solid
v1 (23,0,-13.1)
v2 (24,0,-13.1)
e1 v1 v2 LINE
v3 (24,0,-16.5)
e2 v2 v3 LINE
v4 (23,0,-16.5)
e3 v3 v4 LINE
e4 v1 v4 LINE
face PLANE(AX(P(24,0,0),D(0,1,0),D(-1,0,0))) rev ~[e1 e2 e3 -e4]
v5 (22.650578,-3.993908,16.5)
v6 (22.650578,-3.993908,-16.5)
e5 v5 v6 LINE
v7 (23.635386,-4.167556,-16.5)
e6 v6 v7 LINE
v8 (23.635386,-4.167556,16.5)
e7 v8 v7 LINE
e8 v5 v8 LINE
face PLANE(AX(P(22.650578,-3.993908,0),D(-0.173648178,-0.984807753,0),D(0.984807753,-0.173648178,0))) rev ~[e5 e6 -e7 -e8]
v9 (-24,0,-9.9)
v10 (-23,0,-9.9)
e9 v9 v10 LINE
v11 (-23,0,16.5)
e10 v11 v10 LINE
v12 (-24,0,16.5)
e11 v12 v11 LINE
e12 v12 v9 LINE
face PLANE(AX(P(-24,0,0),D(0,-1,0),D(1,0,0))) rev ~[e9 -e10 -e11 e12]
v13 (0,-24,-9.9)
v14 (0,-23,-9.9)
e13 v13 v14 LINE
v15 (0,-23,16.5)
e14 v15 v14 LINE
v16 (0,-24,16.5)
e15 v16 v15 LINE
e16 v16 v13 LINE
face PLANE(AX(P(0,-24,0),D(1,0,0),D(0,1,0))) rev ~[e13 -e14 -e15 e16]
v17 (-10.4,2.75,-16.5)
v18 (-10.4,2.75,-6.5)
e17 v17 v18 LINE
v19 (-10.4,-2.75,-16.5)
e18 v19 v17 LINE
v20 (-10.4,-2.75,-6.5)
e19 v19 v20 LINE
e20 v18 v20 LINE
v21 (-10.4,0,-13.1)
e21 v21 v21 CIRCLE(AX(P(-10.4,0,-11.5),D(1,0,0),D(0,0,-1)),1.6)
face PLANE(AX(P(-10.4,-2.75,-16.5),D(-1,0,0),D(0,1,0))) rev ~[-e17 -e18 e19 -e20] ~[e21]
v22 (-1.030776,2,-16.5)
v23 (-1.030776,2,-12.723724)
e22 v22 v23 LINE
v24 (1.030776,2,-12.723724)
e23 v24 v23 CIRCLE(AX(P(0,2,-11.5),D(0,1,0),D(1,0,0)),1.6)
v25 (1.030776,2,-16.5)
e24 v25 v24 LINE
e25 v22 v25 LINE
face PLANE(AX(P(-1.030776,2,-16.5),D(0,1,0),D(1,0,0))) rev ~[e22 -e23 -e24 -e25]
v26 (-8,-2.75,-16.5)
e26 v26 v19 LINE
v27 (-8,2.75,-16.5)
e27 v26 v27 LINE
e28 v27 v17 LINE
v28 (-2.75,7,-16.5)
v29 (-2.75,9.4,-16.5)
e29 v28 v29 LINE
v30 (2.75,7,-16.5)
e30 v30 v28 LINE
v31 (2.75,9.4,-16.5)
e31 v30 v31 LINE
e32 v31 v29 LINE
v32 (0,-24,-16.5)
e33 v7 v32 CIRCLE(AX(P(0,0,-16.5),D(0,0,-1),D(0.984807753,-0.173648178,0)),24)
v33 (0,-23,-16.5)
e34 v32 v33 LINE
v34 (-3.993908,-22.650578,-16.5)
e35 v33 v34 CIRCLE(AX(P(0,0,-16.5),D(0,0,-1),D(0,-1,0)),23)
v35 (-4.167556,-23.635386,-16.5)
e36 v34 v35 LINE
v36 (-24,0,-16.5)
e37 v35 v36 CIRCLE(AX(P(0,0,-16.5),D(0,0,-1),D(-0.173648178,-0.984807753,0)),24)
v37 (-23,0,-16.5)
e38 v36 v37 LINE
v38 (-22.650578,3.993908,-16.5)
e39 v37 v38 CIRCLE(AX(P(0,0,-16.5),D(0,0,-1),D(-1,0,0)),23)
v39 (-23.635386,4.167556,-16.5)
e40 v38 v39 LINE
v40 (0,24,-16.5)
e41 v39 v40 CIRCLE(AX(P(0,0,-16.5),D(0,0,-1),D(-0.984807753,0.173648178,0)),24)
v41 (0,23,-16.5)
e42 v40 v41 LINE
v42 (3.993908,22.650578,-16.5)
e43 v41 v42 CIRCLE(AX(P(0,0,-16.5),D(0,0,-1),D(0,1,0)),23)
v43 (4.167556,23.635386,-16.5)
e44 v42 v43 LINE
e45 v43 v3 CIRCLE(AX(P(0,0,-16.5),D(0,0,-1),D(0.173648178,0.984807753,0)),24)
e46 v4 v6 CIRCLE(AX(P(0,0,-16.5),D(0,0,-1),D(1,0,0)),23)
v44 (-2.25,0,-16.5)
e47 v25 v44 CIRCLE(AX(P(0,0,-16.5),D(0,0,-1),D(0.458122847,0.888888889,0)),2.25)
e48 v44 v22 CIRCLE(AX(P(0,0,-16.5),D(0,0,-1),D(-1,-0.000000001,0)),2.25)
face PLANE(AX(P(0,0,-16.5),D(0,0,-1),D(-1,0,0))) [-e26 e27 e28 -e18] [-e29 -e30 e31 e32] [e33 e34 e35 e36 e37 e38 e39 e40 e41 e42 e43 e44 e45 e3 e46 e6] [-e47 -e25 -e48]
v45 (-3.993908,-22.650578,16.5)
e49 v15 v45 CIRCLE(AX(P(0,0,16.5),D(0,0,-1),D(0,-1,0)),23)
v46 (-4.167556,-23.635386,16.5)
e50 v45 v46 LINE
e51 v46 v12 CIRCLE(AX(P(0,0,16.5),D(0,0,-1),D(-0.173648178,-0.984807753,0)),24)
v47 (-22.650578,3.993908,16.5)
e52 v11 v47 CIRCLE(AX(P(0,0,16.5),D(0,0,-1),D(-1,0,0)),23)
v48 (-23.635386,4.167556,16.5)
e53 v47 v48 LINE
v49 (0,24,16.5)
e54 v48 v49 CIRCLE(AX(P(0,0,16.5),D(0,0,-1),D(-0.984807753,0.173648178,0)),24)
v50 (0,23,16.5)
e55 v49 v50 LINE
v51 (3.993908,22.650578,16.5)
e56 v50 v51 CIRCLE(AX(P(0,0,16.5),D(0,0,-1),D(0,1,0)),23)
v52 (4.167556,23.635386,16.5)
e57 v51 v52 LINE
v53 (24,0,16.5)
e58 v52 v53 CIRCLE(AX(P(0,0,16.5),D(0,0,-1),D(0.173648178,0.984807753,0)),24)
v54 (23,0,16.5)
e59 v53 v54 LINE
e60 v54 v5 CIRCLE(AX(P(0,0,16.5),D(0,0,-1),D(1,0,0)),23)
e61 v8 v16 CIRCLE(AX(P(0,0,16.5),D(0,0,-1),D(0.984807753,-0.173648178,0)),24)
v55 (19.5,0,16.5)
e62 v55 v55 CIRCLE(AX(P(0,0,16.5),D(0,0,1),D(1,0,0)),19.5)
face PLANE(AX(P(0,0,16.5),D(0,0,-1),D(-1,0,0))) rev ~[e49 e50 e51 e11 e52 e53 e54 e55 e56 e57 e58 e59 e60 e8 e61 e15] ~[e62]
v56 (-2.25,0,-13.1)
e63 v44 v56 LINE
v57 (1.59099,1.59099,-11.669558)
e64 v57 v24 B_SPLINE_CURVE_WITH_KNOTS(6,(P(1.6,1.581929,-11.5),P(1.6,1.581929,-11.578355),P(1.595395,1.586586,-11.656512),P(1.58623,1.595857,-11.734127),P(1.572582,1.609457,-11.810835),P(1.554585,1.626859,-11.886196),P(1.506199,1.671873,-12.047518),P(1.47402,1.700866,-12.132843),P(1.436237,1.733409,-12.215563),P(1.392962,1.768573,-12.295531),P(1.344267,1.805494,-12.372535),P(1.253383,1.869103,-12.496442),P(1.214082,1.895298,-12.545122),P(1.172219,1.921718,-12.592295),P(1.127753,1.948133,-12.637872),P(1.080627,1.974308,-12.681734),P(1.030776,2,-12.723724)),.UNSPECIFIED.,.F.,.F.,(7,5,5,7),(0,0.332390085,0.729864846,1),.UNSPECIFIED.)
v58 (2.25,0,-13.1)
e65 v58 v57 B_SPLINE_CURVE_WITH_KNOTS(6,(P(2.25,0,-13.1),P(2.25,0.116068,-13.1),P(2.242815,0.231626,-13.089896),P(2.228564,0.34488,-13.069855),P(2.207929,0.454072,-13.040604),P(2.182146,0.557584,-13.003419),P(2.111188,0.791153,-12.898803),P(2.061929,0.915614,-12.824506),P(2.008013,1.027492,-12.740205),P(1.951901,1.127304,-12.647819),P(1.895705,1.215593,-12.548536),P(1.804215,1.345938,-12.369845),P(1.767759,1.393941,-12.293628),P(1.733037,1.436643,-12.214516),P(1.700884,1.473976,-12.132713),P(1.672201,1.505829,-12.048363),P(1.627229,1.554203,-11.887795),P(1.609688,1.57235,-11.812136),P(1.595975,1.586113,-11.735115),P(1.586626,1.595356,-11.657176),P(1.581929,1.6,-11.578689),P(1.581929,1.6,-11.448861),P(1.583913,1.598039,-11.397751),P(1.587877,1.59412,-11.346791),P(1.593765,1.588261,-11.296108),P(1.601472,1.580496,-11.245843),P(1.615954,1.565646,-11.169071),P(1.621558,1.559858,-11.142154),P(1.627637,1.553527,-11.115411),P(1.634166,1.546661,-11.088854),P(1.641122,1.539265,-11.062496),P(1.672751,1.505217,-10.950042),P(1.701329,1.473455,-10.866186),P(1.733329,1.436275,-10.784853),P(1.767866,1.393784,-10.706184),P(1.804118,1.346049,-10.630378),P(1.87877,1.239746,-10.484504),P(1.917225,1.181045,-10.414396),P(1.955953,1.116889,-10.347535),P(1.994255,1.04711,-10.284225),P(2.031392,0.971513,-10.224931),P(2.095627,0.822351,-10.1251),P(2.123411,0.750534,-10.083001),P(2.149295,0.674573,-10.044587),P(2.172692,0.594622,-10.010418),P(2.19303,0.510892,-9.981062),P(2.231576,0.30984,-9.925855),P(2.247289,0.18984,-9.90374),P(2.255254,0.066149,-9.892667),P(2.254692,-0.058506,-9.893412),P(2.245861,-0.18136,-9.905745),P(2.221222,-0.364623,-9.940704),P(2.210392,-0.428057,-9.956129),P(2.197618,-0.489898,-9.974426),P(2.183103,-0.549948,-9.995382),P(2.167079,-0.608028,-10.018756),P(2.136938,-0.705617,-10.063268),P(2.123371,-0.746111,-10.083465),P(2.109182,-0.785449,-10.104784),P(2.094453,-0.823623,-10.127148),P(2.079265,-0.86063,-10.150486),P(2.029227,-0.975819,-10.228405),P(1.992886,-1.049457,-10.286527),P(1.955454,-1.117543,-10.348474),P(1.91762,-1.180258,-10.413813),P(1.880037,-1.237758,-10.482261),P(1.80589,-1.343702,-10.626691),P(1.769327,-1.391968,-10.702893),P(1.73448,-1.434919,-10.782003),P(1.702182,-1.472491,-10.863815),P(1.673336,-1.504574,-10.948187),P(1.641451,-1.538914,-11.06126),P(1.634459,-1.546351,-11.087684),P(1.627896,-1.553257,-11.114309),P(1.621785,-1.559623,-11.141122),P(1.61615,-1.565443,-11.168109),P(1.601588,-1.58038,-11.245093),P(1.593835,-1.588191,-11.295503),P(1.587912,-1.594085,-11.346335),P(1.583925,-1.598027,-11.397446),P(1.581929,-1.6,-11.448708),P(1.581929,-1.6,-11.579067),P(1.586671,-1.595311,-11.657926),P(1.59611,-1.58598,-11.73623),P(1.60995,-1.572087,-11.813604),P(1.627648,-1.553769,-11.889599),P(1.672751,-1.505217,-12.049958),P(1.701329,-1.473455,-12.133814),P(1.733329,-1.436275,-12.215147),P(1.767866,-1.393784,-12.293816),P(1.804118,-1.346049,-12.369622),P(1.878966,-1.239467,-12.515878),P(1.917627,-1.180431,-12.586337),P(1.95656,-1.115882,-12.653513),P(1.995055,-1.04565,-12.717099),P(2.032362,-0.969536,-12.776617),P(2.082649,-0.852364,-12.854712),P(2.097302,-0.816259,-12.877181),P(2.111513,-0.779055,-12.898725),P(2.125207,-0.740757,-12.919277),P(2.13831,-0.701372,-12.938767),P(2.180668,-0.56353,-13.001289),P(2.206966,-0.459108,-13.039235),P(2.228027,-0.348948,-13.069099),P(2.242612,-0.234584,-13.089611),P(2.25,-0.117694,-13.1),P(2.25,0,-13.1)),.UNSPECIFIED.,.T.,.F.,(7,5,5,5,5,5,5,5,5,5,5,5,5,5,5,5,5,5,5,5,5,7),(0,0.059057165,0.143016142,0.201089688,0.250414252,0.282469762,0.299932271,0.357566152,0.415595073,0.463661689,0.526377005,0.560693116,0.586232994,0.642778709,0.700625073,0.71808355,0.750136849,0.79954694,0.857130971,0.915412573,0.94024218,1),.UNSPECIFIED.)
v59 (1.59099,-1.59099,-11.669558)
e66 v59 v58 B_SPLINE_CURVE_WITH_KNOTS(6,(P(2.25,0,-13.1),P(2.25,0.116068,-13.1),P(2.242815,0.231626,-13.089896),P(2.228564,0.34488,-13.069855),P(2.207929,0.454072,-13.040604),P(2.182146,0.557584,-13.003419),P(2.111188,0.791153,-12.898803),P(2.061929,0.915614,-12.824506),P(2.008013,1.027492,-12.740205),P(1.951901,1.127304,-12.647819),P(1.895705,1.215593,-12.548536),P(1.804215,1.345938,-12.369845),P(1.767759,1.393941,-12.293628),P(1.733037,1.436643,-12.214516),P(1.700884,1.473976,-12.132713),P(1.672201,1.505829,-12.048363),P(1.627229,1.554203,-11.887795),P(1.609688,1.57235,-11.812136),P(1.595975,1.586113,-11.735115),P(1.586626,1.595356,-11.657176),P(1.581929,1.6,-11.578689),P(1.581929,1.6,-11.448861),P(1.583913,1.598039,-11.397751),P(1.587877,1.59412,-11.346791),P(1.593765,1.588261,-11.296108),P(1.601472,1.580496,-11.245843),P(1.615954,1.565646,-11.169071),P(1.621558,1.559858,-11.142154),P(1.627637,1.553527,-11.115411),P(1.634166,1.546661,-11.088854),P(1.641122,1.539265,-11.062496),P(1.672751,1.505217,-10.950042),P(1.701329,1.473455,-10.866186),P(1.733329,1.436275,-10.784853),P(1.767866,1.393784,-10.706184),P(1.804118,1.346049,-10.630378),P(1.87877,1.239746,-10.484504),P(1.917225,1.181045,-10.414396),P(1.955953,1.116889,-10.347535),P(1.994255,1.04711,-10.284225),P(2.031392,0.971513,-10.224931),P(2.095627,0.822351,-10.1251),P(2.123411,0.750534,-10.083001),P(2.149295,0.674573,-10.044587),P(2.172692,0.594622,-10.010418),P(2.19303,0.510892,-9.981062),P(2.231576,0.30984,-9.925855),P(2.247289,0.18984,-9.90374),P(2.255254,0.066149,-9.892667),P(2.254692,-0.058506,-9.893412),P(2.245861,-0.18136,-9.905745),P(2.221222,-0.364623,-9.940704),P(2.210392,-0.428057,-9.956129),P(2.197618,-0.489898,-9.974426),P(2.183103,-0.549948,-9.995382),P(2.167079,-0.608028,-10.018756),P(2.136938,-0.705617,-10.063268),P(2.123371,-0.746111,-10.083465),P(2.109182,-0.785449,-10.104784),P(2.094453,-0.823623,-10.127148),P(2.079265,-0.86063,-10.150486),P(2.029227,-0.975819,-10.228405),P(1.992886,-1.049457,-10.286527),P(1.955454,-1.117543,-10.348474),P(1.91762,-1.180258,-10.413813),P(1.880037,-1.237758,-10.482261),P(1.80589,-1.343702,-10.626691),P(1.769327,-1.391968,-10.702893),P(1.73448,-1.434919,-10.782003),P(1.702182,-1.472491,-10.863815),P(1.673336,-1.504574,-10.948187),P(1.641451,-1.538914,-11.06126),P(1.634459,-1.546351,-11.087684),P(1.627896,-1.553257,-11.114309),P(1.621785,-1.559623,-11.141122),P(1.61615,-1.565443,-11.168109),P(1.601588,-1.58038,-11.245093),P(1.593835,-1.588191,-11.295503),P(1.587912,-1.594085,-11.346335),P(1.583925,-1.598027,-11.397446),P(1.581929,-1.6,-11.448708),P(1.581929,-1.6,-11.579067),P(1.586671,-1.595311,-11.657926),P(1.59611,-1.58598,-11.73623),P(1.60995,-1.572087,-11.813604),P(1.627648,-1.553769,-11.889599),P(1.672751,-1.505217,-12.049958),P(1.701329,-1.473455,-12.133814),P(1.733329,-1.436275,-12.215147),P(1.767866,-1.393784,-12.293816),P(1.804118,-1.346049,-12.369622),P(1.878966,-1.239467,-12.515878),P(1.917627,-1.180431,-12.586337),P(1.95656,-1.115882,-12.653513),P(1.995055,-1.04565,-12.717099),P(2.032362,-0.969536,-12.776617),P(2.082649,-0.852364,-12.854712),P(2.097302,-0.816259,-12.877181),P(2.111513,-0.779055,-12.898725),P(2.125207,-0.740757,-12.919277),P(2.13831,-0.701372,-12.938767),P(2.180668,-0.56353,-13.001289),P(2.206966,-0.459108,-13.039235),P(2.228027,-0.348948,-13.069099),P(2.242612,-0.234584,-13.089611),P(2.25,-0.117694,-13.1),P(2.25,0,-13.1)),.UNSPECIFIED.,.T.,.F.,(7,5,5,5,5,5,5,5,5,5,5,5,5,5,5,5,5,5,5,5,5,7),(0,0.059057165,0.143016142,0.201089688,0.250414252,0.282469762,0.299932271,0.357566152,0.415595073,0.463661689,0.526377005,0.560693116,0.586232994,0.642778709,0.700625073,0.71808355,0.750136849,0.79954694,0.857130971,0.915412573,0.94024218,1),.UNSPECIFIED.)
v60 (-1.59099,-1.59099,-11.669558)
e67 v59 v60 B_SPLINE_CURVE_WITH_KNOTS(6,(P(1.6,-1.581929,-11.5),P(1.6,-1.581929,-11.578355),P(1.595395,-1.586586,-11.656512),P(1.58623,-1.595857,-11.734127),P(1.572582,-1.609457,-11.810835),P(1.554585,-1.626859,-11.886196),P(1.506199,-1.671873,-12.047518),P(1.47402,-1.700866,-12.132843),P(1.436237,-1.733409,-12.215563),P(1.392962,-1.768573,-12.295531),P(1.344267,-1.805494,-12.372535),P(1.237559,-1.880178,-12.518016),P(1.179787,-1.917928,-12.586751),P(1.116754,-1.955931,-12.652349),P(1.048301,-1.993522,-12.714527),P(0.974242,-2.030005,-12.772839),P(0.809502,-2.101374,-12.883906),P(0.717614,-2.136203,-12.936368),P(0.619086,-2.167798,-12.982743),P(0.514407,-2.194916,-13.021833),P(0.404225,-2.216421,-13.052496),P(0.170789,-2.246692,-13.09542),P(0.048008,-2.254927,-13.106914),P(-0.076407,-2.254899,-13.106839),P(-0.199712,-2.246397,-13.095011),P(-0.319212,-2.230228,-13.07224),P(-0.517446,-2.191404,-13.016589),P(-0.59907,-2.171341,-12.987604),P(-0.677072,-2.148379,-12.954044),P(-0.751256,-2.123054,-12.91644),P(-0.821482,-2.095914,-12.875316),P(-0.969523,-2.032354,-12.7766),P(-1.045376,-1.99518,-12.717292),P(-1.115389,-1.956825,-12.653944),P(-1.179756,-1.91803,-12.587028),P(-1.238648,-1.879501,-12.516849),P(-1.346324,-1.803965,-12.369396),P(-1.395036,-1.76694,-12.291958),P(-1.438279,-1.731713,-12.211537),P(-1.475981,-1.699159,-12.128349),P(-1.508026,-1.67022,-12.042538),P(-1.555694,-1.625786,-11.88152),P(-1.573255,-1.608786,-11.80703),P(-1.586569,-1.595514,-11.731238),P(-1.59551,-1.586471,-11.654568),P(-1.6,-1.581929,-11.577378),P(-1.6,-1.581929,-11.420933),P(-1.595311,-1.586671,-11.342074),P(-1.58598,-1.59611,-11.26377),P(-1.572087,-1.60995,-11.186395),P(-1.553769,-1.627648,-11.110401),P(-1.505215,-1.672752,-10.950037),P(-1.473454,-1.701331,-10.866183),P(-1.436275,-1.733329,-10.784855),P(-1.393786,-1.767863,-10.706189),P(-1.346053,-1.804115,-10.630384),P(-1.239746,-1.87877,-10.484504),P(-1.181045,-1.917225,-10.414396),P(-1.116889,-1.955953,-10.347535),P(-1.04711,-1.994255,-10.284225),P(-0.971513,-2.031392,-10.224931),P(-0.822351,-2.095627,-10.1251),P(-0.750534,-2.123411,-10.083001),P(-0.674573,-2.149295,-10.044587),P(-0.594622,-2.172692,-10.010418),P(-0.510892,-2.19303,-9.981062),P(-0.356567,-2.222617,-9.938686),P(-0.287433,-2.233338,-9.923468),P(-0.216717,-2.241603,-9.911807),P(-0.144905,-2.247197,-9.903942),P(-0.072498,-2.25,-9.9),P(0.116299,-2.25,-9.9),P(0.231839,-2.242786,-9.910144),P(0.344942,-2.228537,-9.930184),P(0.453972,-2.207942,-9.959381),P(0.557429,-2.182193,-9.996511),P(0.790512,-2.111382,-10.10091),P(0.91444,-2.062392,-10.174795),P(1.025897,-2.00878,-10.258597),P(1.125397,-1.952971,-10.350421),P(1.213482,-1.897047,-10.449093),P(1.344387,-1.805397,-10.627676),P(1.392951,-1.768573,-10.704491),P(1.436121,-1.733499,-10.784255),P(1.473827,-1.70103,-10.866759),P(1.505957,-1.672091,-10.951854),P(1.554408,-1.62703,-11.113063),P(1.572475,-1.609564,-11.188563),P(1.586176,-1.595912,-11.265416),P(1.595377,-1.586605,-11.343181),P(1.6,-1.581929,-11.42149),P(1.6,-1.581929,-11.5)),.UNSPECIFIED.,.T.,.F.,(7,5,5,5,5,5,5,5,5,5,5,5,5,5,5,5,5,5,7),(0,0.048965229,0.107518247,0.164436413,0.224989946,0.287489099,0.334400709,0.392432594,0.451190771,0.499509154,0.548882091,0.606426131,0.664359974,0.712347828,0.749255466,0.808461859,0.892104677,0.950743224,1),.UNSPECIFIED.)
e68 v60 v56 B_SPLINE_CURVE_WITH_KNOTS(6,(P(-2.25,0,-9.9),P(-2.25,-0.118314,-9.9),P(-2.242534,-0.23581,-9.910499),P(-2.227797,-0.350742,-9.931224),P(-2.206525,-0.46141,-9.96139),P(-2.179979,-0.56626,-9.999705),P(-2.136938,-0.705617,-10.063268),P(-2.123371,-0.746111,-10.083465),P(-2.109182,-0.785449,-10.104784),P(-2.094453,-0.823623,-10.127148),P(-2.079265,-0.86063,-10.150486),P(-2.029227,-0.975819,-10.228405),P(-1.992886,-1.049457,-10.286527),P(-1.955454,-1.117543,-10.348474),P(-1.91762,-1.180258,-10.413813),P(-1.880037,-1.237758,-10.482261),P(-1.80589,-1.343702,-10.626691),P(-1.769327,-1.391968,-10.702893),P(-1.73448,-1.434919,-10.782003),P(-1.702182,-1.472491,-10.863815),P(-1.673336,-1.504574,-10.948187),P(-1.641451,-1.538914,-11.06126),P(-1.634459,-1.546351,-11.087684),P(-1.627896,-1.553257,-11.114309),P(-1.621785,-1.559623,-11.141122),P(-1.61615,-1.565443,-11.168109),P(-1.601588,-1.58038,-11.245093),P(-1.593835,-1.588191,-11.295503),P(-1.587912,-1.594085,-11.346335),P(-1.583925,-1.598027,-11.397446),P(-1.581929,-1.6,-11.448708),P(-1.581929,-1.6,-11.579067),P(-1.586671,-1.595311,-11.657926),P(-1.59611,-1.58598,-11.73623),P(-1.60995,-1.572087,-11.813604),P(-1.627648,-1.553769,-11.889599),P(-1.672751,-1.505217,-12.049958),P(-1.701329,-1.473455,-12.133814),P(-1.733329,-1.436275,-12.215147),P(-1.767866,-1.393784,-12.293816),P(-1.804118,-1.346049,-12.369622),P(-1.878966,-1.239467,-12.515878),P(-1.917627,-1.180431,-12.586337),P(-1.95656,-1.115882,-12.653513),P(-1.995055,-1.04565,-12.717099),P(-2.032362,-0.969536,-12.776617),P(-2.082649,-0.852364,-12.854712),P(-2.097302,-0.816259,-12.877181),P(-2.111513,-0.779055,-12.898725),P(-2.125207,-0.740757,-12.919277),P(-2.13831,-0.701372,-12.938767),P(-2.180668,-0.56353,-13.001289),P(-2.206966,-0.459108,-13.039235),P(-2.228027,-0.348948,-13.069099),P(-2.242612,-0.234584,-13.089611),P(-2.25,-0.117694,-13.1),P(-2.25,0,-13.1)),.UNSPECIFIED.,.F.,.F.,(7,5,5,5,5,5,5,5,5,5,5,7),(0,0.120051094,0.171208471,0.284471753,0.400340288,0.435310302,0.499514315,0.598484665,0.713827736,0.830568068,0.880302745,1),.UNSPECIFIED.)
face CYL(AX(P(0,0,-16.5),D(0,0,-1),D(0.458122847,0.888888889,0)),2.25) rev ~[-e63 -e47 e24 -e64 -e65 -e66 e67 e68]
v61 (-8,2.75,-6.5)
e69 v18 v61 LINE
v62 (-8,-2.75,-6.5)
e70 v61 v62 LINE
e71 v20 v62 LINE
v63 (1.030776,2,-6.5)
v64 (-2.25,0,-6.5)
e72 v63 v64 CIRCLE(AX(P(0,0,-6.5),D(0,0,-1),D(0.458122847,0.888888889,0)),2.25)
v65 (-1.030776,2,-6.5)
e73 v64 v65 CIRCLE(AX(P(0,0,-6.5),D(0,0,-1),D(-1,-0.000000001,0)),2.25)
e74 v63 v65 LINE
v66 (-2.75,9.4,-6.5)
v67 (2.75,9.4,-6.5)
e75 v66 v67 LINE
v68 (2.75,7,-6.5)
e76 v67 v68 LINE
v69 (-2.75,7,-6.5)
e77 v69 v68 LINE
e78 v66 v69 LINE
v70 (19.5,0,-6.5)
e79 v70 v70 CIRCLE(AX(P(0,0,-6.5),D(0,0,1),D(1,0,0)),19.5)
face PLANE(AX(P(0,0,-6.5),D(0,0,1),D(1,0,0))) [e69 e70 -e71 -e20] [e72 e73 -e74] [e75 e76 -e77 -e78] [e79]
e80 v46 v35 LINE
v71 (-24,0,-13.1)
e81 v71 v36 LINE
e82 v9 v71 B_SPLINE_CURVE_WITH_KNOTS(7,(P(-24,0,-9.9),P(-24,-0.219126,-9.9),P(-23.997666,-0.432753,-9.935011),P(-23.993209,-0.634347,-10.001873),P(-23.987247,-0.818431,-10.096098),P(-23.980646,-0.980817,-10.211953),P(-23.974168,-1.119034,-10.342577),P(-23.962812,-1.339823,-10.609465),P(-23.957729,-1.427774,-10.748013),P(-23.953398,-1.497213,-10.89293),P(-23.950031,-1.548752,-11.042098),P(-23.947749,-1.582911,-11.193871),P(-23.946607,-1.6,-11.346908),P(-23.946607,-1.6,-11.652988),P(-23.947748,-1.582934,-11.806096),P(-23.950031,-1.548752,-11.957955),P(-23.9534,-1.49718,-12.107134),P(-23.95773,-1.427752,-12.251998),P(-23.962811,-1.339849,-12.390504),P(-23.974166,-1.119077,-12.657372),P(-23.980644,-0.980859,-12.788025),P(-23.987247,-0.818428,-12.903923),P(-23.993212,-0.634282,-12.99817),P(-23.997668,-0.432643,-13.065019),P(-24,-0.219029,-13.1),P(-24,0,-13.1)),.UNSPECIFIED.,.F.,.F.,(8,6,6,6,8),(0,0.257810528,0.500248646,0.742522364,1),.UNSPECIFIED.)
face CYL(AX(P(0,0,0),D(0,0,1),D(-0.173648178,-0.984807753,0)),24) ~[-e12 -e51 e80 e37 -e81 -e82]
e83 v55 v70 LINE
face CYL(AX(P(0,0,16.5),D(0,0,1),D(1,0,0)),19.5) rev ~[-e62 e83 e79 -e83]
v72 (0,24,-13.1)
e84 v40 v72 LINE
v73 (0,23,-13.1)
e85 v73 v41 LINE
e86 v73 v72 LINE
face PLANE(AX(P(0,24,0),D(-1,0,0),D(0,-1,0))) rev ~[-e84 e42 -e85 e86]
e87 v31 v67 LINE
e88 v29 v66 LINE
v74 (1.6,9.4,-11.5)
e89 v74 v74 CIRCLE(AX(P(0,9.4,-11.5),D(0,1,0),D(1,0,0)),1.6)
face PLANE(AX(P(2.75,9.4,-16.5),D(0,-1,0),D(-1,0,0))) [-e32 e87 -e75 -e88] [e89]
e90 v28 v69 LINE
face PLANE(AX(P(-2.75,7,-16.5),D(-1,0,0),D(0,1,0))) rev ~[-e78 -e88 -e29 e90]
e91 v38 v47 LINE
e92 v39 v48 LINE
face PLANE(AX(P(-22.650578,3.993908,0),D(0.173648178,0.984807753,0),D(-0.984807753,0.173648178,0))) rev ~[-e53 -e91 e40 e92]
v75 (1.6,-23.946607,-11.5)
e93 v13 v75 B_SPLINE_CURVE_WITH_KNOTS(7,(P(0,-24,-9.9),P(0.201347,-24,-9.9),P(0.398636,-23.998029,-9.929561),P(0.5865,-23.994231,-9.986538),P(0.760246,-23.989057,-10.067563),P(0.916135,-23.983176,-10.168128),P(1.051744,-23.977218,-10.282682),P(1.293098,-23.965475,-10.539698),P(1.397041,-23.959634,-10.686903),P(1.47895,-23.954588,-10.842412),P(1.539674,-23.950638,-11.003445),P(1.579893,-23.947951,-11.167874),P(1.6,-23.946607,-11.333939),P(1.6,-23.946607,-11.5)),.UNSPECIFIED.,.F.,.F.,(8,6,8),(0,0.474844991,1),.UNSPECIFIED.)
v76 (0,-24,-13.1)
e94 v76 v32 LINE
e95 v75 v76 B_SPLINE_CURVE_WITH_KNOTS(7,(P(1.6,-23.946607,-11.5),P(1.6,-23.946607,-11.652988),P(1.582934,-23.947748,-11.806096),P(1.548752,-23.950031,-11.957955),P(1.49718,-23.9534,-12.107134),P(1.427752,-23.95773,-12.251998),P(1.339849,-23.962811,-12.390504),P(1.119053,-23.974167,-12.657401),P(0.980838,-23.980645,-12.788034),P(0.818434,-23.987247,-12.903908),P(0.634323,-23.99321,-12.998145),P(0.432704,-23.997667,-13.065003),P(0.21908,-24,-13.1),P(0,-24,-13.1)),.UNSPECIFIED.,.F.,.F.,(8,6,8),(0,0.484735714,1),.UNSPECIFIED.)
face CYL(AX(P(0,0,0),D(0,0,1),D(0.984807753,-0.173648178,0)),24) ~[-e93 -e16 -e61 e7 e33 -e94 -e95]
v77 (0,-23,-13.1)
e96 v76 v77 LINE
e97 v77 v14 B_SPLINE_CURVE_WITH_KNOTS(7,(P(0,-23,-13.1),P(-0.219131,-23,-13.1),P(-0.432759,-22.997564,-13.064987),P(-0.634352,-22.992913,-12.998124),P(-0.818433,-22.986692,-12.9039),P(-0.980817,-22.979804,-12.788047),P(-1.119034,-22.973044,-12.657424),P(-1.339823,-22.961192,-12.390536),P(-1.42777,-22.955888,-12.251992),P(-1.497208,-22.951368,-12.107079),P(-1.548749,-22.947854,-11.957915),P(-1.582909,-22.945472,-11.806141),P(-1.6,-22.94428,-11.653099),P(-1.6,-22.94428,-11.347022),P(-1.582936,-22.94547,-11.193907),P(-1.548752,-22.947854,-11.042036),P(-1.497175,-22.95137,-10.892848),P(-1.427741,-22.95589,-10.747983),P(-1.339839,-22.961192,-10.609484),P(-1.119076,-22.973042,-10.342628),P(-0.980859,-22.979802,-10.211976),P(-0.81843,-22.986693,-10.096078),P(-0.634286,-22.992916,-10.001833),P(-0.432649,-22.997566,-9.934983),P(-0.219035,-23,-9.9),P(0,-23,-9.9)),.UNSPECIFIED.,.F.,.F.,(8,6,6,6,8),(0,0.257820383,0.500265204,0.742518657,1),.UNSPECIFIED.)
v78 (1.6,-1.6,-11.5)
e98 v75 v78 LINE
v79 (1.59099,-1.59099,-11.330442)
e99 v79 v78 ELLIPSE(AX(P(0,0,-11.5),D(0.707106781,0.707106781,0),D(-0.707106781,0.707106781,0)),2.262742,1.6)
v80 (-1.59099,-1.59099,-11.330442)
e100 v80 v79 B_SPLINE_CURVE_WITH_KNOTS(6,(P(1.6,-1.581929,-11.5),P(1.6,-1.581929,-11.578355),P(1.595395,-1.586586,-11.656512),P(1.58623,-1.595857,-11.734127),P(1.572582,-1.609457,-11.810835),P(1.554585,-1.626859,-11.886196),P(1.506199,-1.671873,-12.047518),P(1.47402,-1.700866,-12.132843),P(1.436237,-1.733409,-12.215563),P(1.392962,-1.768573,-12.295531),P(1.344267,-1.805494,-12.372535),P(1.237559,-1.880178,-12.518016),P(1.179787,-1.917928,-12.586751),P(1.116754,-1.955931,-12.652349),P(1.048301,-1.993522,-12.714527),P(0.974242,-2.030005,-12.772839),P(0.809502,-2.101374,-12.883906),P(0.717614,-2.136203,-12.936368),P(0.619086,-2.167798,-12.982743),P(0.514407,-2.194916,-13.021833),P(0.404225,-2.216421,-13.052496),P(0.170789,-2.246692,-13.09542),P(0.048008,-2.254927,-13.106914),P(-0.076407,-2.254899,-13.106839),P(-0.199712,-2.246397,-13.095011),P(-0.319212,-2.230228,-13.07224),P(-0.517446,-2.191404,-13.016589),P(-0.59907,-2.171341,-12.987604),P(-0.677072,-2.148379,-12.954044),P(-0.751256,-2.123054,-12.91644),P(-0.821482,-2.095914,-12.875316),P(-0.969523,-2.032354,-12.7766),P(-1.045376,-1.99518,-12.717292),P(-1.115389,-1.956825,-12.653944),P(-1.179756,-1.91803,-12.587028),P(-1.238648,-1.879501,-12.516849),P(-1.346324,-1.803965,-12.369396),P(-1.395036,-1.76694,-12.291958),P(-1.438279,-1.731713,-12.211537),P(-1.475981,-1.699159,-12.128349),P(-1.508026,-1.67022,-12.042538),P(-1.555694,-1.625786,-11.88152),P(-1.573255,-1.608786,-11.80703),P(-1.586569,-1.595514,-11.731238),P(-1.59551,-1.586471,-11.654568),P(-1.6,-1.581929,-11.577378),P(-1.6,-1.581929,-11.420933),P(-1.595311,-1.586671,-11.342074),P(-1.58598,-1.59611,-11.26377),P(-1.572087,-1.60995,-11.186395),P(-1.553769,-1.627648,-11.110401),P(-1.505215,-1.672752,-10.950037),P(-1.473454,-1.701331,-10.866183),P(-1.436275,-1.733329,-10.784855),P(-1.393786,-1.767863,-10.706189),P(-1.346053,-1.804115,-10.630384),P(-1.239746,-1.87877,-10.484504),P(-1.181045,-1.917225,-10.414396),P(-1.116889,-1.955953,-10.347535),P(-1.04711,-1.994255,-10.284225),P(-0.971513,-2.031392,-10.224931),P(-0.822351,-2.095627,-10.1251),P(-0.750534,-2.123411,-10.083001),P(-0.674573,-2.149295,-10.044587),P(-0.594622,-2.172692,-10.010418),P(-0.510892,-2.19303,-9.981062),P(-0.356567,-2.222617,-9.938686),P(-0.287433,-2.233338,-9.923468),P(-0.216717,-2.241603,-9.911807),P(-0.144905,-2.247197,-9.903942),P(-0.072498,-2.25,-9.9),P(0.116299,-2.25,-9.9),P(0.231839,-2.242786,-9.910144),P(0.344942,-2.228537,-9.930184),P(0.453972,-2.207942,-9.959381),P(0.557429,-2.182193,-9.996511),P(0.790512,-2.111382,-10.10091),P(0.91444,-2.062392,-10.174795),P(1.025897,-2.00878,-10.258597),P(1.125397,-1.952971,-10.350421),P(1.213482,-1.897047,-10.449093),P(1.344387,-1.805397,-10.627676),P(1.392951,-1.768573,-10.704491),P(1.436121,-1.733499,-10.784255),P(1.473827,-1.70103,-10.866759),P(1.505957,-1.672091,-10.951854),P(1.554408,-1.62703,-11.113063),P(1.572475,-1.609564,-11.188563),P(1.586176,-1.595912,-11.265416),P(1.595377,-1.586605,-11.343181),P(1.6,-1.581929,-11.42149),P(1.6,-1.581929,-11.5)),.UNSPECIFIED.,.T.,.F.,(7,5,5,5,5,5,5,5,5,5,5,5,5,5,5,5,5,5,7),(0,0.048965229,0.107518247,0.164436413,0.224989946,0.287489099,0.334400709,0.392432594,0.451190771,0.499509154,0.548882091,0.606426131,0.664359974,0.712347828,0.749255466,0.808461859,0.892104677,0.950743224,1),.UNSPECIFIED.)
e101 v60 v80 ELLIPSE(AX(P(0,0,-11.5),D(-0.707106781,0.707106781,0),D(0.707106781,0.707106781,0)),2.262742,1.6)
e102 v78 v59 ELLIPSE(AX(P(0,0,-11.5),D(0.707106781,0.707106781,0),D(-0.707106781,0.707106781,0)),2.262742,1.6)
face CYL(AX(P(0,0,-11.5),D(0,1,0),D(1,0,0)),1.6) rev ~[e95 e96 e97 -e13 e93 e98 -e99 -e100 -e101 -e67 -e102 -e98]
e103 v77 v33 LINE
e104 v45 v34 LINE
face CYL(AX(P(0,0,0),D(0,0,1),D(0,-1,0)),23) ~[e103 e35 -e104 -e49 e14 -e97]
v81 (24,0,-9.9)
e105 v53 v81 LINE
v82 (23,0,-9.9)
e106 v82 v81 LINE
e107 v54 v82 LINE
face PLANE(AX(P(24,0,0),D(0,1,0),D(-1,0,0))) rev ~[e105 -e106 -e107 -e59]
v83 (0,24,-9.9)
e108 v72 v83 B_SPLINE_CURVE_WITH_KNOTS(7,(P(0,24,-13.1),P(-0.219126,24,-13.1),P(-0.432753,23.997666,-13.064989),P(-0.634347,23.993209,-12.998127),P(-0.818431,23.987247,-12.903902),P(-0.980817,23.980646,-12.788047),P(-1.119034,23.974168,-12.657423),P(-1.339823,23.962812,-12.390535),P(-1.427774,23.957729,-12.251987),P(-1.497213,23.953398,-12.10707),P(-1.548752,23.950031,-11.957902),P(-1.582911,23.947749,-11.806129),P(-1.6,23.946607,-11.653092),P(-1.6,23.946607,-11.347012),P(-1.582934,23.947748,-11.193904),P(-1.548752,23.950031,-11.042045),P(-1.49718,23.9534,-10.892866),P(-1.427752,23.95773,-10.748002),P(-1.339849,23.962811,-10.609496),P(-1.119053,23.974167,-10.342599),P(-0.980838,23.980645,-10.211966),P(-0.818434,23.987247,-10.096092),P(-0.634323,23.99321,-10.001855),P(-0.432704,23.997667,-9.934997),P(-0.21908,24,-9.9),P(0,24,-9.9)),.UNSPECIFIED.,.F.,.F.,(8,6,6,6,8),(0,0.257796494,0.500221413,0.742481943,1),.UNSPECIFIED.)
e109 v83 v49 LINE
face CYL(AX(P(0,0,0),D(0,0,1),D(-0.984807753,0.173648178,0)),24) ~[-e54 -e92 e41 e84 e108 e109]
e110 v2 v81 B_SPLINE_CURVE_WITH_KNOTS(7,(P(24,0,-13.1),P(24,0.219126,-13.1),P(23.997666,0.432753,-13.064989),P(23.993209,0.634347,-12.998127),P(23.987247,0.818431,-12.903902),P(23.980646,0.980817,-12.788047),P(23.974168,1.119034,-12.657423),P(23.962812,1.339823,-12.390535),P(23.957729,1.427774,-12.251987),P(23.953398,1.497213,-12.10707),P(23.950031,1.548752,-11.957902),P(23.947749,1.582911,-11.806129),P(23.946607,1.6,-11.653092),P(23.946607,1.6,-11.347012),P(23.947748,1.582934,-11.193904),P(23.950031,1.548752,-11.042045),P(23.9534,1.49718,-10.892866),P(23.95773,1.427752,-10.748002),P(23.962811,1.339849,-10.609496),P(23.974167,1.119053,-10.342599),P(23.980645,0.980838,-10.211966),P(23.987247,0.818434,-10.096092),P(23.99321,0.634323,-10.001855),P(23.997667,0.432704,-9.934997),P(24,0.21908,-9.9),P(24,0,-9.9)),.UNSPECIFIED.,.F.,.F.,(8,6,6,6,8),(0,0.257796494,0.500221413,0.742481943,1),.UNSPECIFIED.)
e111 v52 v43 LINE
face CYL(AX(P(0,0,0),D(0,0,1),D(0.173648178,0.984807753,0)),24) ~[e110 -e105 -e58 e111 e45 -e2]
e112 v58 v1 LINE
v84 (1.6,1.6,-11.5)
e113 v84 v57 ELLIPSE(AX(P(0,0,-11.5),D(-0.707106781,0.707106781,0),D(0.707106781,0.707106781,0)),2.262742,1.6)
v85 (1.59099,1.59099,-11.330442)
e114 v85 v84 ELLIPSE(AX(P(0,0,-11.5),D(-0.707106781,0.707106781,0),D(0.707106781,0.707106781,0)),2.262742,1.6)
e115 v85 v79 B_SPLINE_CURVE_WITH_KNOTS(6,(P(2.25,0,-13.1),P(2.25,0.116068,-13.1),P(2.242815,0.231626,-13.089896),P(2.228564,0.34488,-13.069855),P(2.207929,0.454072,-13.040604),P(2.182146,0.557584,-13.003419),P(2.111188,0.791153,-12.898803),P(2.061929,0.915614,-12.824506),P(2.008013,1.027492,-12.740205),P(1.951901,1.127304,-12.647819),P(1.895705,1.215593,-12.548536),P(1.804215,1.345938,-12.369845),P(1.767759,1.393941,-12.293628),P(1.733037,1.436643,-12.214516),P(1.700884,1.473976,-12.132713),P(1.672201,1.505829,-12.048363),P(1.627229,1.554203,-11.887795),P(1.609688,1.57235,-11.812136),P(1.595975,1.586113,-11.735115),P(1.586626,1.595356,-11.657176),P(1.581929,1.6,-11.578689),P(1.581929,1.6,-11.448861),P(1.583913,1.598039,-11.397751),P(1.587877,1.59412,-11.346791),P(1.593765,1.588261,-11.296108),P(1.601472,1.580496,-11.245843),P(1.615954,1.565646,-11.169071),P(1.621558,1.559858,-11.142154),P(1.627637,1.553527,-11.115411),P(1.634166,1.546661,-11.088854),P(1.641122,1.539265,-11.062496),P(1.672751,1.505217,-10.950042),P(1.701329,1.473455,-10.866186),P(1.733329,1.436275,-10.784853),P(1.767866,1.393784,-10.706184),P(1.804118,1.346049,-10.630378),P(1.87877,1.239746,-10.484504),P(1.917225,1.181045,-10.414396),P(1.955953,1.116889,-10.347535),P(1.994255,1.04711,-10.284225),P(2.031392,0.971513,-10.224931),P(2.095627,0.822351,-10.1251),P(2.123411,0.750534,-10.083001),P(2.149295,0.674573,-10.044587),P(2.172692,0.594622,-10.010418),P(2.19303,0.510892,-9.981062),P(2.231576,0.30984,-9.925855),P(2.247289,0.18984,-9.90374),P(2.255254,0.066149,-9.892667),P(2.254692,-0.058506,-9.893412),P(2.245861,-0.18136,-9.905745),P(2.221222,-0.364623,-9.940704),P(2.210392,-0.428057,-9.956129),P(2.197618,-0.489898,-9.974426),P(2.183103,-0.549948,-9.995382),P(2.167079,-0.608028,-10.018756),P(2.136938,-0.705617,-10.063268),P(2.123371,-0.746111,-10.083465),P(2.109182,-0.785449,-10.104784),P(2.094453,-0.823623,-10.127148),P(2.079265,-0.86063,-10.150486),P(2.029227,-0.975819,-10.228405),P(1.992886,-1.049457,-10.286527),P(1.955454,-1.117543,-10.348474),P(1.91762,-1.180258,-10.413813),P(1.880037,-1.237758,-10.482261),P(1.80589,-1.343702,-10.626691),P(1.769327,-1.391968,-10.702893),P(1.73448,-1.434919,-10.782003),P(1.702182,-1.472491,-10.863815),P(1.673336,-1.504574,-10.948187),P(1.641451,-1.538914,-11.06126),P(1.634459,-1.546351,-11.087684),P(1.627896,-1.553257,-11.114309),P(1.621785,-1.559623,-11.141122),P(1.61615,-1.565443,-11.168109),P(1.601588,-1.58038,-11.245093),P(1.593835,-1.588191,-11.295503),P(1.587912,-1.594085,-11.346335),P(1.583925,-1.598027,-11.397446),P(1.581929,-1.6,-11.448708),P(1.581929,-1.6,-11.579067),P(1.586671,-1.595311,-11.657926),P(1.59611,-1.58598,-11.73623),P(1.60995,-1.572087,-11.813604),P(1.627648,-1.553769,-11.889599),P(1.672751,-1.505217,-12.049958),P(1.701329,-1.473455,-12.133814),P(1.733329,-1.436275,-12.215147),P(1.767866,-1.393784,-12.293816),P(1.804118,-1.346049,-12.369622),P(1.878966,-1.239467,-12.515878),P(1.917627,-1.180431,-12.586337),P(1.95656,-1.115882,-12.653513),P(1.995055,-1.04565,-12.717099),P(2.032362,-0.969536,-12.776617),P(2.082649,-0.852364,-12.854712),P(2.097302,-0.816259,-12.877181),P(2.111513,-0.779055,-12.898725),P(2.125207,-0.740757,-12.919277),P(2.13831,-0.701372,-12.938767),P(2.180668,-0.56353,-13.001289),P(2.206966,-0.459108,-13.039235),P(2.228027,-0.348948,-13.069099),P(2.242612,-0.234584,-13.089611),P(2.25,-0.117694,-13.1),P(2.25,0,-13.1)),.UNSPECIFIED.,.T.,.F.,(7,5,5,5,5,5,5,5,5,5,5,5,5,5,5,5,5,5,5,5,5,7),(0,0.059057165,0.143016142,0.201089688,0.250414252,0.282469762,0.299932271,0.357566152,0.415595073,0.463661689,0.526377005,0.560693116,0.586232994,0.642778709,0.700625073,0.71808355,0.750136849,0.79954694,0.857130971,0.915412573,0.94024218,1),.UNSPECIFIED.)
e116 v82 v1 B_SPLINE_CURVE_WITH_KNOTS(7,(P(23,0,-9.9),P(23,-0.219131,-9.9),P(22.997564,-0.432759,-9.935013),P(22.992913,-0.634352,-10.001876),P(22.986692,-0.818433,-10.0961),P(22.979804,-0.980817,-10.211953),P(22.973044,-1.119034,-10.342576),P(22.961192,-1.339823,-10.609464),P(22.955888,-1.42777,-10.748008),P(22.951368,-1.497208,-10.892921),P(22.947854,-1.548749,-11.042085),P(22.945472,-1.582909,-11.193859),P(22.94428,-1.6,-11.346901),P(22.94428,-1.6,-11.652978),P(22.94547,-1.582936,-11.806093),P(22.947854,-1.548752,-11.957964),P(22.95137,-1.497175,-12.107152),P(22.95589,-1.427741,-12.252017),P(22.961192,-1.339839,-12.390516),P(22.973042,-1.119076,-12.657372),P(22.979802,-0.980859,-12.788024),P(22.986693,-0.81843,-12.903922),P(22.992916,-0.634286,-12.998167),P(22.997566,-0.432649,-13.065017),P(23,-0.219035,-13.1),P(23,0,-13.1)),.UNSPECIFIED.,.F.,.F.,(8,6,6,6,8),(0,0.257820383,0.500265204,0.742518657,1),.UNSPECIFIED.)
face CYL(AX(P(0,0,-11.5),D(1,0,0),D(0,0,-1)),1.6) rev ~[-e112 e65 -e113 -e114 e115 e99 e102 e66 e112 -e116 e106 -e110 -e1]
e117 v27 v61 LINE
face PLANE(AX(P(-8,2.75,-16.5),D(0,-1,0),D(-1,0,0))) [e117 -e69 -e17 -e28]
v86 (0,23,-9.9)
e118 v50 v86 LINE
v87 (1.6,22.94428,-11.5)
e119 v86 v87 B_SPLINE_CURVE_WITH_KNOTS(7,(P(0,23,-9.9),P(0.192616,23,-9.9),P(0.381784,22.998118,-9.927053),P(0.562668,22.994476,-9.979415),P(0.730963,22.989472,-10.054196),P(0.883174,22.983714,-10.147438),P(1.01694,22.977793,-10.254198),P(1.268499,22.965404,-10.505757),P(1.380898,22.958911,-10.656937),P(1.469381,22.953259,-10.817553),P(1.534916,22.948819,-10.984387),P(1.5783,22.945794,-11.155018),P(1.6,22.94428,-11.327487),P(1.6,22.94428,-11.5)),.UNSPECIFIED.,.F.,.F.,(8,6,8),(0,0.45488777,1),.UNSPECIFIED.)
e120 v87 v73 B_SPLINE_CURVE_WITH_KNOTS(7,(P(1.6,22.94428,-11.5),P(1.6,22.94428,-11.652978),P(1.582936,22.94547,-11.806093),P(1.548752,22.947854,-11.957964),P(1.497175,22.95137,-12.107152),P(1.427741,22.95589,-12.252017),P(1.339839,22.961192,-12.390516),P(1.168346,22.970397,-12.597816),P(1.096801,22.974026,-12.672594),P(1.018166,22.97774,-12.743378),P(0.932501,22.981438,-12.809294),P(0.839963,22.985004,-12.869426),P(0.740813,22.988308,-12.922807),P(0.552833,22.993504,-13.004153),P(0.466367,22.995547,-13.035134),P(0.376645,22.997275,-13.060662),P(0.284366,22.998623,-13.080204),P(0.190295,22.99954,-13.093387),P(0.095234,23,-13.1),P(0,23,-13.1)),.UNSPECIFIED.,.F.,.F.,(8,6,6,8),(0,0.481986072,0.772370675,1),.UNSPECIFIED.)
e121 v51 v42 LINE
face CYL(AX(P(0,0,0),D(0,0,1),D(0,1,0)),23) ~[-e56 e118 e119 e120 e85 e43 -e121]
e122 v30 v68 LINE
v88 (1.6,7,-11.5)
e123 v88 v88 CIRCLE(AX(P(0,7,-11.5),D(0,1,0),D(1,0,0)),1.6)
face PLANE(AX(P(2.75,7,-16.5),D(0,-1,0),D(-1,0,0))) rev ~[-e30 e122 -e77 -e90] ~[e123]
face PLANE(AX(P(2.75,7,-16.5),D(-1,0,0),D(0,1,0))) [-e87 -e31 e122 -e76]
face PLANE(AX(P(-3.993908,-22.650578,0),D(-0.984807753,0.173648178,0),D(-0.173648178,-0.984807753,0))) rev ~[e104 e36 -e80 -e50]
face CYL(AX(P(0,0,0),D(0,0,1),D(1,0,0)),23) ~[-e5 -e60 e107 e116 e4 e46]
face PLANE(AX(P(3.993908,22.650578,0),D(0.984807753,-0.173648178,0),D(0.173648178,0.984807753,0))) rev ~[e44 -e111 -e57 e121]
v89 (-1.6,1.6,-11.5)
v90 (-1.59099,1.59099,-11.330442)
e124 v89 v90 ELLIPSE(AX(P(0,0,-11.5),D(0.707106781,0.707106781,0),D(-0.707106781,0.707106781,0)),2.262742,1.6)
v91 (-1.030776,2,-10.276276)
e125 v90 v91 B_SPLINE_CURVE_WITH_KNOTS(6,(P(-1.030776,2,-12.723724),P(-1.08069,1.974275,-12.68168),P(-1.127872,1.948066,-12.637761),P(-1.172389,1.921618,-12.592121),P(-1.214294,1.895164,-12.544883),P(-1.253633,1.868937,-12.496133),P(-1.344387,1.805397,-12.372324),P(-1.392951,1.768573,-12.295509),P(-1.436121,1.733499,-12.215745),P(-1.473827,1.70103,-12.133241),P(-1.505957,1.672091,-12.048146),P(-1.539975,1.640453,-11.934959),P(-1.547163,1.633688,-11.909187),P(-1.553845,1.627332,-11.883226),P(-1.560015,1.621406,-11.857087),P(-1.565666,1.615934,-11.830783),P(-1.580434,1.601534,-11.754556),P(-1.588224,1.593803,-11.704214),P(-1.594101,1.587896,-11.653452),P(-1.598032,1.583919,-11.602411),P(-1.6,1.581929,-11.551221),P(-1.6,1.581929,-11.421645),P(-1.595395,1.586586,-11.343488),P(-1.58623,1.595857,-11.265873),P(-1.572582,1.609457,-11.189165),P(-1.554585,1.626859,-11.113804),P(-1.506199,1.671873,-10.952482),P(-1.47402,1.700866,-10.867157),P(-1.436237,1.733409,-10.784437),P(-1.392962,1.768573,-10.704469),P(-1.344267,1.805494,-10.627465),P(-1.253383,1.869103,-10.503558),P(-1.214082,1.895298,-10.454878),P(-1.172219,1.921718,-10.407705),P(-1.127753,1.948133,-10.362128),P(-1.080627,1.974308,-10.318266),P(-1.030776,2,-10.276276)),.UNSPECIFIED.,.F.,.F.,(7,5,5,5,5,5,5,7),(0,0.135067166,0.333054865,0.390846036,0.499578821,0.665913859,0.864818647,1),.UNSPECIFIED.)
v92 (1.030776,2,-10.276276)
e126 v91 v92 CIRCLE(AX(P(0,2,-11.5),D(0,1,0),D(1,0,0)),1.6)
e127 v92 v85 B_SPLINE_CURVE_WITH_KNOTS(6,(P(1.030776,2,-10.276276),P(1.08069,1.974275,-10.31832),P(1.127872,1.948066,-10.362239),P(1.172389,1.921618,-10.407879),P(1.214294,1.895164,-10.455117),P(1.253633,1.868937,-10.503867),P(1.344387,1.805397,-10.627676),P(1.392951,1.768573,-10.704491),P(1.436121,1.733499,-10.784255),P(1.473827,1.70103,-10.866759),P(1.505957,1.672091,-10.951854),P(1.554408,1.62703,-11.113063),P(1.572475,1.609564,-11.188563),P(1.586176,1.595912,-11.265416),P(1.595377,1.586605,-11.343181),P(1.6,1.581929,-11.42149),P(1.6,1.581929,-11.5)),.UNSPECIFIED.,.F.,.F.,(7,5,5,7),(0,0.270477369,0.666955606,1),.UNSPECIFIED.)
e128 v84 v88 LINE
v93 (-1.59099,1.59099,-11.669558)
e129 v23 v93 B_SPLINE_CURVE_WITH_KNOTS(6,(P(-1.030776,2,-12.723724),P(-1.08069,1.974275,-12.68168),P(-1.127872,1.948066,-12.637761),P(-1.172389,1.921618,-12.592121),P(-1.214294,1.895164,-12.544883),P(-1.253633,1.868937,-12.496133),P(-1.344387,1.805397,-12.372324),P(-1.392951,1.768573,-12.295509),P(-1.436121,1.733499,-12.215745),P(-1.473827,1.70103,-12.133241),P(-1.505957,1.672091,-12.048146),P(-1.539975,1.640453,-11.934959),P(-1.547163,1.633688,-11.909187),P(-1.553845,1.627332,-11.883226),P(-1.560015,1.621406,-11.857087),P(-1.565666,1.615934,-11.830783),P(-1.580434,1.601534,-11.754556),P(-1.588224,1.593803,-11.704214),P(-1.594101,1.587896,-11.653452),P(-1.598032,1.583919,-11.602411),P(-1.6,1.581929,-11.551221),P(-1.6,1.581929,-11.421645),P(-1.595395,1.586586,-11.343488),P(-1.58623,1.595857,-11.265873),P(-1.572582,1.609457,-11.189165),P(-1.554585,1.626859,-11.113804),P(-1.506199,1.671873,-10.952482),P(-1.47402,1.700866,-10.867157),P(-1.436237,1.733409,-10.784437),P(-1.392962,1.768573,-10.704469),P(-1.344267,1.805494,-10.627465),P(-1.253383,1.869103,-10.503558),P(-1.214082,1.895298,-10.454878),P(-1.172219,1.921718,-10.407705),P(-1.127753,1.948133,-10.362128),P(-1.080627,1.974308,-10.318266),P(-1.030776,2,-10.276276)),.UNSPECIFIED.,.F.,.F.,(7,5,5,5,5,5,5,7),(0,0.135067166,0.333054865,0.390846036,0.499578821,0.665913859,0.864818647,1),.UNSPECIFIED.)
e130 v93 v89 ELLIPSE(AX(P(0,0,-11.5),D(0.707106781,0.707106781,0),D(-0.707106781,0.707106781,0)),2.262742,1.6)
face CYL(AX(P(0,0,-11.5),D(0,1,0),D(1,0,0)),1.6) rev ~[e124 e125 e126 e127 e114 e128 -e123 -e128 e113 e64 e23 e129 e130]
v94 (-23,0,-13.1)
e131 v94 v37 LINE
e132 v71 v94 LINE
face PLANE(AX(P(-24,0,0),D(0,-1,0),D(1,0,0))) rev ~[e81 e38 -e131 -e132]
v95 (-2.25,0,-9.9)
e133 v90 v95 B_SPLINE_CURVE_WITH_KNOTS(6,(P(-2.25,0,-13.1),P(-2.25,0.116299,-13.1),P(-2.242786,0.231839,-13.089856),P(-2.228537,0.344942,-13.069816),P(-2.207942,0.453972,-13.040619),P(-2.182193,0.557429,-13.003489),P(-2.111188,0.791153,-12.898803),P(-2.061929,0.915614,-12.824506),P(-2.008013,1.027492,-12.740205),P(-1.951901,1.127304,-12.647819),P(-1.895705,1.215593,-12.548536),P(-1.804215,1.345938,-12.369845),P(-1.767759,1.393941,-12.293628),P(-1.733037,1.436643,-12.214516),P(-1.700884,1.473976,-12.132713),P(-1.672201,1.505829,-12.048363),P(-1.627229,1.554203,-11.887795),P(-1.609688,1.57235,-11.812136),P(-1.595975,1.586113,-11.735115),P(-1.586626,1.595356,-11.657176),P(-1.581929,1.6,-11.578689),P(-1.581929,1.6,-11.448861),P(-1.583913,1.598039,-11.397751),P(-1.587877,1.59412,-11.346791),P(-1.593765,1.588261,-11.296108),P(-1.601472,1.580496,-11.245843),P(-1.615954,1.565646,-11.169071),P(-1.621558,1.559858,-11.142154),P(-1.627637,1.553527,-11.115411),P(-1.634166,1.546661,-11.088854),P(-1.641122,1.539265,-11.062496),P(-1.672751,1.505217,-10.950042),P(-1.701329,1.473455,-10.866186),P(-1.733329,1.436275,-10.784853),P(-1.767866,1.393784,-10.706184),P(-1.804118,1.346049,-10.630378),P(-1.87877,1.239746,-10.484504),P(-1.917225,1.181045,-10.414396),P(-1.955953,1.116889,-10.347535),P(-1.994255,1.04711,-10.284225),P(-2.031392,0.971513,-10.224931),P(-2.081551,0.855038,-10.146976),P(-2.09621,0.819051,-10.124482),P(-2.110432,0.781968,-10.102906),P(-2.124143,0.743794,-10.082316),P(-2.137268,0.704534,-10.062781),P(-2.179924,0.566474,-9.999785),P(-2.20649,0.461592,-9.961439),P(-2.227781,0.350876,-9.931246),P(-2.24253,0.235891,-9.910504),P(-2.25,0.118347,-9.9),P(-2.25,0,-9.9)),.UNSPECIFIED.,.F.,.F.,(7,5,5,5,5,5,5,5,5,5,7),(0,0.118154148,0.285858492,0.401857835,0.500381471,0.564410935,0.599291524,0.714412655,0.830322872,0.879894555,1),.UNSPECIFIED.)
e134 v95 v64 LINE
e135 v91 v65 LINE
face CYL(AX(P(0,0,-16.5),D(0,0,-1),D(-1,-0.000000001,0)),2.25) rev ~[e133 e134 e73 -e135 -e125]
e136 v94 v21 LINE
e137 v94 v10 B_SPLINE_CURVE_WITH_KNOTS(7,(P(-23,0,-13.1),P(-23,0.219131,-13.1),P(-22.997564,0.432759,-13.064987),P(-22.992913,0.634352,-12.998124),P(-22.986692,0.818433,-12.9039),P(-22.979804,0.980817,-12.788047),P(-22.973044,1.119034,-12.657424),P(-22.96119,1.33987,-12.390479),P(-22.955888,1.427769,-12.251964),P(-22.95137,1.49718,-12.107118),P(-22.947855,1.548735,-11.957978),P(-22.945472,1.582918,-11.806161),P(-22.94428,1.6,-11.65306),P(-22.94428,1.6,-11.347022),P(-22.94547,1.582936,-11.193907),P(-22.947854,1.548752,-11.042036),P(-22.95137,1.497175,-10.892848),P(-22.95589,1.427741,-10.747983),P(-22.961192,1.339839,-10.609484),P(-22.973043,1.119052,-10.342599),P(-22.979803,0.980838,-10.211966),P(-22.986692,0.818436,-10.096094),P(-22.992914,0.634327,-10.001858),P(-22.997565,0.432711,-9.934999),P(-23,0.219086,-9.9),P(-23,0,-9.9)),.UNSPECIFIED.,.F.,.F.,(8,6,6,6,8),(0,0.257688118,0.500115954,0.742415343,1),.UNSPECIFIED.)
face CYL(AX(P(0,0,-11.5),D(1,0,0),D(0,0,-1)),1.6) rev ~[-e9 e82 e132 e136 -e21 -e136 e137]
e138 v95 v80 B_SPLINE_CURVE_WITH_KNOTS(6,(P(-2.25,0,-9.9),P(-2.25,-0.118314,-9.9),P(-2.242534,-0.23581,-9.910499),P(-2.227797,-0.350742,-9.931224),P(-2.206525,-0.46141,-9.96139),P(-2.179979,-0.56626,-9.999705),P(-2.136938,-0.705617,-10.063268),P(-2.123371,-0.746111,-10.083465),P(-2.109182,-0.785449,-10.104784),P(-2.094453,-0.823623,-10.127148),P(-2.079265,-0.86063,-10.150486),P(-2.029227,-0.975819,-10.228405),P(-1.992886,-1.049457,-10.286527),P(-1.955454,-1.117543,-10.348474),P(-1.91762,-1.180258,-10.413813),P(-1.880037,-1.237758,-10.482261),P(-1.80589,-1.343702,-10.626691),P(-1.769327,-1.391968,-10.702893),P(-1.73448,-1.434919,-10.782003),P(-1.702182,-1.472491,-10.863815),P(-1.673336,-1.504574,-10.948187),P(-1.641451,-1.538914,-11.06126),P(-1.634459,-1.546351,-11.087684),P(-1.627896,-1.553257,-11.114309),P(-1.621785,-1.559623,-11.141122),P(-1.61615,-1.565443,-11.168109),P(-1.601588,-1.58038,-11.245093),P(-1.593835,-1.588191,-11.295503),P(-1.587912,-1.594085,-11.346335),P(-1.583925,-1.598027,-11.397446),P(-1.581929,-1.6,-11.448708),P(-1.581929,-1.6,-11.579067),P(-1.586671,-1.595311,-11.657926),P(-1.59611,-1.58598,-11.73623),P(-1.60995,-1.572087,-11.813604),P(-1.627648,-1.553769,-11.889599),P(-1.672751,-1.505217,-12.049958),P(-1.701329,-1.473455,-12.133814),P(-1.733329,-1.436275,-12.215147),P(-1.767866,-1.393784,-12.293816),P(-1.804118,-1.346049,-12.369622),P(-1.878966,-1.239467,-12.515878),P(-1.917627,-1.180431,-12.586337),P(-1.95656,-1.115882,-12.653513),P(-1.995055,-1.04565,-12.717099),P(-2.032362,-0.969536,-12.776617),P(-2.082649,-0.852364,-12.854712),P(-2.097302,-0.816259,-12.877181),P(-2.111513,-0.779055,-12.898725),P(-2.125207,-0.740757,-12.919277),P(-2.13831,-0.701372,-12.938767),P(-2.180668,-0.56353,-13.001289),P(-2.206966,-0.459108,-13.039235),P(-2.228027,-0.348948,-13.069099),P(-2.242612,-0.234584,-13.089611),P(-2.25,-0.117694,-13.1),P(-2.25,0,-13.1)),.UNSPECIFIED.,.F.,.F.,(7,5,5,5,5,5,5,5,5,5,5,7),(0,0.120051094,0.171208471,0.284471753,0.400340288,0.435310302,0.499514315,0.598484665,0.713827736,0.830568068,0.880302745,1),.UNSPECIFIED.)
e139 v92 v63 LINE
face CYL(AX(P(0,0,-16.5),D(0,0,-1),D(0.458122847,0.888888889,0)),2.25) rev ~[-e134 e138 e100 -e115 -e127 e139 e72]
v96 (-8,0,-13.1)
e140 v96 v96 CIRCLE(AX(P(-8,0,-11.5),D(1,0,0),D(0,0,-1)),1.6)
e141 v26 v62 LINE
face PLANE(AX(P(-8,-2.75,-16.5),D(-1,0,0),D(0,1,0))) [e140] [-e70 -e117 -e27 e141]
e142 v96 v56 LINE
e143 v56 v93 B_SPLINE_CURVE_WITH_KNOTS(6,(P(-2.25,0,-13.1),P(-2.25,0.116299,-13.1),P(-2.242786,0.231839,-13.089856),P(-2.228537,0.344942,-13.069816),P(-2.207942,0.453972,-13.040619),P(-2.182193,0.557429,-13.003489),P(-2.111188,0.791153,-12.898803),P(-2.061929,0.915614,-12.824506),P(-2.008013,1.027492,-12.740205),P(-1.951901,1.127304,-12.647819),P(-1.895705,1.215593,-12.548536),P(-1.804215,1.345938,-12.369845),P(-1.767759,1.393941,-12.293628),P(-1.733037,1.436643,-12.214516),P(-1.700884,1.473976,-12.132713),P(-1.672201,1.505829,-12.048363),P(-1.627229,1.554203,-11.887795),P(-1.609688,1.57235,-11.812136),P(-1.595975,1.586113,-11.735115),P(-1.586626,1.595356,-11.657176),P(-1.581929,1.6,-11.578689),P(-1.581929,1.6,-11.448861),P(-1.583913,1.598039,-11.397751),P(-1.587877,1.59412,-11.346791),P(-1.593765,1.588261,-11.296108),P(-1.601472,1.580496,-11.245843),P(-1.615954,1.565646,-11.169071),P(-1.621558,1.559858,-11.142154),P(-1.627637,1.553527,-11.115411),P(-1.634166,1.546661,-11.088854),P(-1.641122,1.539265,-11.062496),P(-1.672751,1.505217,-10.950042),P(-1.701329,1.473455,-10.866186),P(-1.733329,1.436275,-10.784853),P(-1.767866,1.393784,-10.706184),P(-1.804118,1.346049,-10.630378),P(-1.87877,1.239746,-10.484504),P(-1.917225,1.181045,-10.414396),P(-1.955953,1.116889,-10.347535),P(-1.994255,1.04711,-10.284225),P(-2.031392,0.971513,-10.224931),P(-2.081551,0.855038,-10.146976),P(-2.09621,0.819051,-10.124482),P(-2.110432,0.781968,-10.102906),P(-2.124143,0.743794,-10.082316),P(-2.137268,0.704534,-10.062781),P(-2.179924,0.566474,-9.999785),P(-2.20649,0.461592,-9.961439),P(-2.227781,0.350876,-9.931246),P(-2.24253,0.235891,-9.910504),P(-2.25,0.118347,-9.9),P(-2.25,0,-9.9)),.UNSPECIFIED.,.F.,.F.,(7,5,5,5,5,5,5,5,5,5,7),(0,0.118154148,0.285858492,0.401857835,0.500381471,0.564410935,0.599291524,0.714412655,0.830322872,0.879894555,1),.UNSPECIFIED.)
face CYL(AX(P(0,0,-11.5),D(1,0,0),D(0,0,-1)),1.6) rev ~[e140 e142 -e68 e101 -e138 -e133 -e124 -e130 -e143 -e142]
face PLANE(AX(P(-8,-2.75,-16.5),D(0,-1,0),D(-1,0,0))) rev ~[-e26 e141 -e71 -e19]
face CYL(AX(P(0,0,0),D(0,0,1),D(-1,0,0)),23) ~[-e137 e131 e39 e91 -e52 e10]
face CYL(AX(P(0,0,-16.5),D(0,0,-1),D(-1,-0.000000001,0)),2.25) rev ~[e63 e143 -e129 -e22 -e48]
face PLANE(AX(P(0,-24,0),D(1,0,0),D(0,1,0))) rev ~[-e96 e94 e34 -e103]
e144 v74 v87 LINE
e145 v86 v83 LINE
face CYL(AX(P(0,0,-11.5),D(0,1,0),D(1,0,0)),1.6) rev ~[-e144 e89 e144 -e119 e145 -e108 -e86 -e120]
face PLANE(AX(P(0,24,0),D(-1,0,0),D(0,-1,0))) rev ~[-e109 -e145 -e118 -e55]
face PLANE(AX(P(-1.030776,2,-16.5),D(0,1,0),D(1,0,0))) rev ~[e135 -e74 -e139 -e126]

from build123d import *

# Parameters (mm, degrees)
SALIENTE_EXTRUIR1_DEPTH = 16.5
CROQUIS2_R              = 19.5
CORTAR_EXTRUIR1_DEPTH   = 23
CORTAR_EXTRUIR2_DEPTH   = 23
CROQUIS4_R              = 1.6
CORTAR_EXTRUIR3_DEPTH   = 36.5
CROQUIS5_R              = 1.6
CORTAR_EXTRUIR4_DEPTH   = 141.5
CROQUIS6_W              = 5.5
CROQUIS6_H              = 2.4
CROQUIS6_W_2            = 2.4
CROQUIS6_H_2            = 5.5
CORTAR_EXTRUIR5_DEPTH   = 283


with BuildPart() as part:
    # Croquis1 → Saliente-Extruir1 (new body, symmetric)
    with BuildSketch(Plane.XY):
        with BuildLine():
            Line((0, 24), (0, 23))
            ThreePointArc((0, 23), (2.004582083, 22.912478056), (3.993908086, 22.650578319))
            Line((3.993908086, 22.650578319), (4.167556264, 23.635386072))
            ThreePointArc((4.167556264, 23.635386072), (18.385066635, 15.426902632), (24, 0))
            Line((24, 0), (23, 0))
            ThreePointArc((23, 0), (22.912478056, -2.004582083), (22.650578319, -3.993908086))
            Line((22.650578319, -3.993908086), (23.635386072, -4.167556264))
            ThreePointArc((23.635386072, -4.167556264), (15.426902632, -18.385066635), (0, -24))
            Line((0, -24), (0, -23))
            ThreePointArc((0, -23), (-2.004582083, -22.912478056), (-3.993908086, -22.650578319))
            Line((-3.993908086, -22.650578319), (-4.167556264, -23.635386072))
            ThreePointArc((-4.167556264, -23.635386072), (-18.385066635, -15.426902632), (-24, 0))
            Line((-24, 0), (-23, 0))
            ThreePointArc((-23, 0), (-22.912478056, 2.004582083), (-22.650578319, 3.993908086))
            Line((-22.650578319, 3.993908086), (-23.635386072, 4.167556264))
            ThreePointArc((-23.635386072, 4.167556264), (-15.426902632, 18.385066635), (0, 24))
        make_face()
    extrude(amount=SALIENTE_EXTRUIR1_DEPTH, both=True)

    # Croquis2 → Cortar-Extruir1 (cut)
    with BuildSketch(Plane.XY.offset(16.5)):
        Circle(CROQUIS2_R)
    extrude(amount=-CORTAR_EXTRUIR1_DEPTH, mode=Mode.SUBTRACT)

    # Croquis3 → Cortar-Extruir2 (cut)
    with BuildSketch(Plane(origin=(0, 0, -16.5), x_dir=(-1, 0, 0), z_dir=(0, 0, -1))):
        with BuildLine():
            Line((1.030776406, 2), (-1.030776406, 2))
            ThreePointArc((-1.030776406, 2), (-1.17116461, -1.92116461), (2.25, 0))
            ThreePointArc((2.25, 0), (1.92116461, 1.17116461), (1.030776406, 2))
        make_face()
    extrude(amount=-CORTAR_EXTRUIR2_DEPTH, mode=Mode.SUBTRACT)

    # Croquis4 → Cortar-Extruir3 (cut, symmetric)
    with BuildSketch(Plane(origin=(0, 0, 0), x_dir=(1, 0, 0), z_dir=(0, 1, 0))):
        with Locations((0, 11.5)):
            Circle(CROQUIS4_R)
    extrude(amount=CORTAR_EXTRUIR3_DEPTH, both=True, mode=Mode.SUBTRACT)

    # Croquis5 → Cortar-Extruir4 (cut, symmetric)
    with BuildSketch(Plane(origin=(0, 0, 0), x_dir=(0, 0, -1), z_dir=(1, 0, 0))):
        with Locations((11.5, 0)):
            Circle(CROQUIS5_R)
    extrude(amount=CORTAR_EXTRUIR4_DEPTH, both=True, mode=Mode.SUBTRACT)

    # Croquis6 → Cortar-Extruir5 (cut)
    with BuildSketch(Plane(origin=(0, 0, -16.5), x_dir=(-1, 0, 0), z_dir=(0, 0, -1))):
        with Locations((0, 8.2)):
            Rectangle(CROQUIS6_W, CROQUIS6_H)
        with Locations((9.2, 0)):
            Rectangle(CROQUIS6_W_2, CROQUIS6_H_2)
    extrude(amount=-CORTAR_EXTRUIR5_DEPTH, mode=Mode.SUBTRACT)


solid = part.part
